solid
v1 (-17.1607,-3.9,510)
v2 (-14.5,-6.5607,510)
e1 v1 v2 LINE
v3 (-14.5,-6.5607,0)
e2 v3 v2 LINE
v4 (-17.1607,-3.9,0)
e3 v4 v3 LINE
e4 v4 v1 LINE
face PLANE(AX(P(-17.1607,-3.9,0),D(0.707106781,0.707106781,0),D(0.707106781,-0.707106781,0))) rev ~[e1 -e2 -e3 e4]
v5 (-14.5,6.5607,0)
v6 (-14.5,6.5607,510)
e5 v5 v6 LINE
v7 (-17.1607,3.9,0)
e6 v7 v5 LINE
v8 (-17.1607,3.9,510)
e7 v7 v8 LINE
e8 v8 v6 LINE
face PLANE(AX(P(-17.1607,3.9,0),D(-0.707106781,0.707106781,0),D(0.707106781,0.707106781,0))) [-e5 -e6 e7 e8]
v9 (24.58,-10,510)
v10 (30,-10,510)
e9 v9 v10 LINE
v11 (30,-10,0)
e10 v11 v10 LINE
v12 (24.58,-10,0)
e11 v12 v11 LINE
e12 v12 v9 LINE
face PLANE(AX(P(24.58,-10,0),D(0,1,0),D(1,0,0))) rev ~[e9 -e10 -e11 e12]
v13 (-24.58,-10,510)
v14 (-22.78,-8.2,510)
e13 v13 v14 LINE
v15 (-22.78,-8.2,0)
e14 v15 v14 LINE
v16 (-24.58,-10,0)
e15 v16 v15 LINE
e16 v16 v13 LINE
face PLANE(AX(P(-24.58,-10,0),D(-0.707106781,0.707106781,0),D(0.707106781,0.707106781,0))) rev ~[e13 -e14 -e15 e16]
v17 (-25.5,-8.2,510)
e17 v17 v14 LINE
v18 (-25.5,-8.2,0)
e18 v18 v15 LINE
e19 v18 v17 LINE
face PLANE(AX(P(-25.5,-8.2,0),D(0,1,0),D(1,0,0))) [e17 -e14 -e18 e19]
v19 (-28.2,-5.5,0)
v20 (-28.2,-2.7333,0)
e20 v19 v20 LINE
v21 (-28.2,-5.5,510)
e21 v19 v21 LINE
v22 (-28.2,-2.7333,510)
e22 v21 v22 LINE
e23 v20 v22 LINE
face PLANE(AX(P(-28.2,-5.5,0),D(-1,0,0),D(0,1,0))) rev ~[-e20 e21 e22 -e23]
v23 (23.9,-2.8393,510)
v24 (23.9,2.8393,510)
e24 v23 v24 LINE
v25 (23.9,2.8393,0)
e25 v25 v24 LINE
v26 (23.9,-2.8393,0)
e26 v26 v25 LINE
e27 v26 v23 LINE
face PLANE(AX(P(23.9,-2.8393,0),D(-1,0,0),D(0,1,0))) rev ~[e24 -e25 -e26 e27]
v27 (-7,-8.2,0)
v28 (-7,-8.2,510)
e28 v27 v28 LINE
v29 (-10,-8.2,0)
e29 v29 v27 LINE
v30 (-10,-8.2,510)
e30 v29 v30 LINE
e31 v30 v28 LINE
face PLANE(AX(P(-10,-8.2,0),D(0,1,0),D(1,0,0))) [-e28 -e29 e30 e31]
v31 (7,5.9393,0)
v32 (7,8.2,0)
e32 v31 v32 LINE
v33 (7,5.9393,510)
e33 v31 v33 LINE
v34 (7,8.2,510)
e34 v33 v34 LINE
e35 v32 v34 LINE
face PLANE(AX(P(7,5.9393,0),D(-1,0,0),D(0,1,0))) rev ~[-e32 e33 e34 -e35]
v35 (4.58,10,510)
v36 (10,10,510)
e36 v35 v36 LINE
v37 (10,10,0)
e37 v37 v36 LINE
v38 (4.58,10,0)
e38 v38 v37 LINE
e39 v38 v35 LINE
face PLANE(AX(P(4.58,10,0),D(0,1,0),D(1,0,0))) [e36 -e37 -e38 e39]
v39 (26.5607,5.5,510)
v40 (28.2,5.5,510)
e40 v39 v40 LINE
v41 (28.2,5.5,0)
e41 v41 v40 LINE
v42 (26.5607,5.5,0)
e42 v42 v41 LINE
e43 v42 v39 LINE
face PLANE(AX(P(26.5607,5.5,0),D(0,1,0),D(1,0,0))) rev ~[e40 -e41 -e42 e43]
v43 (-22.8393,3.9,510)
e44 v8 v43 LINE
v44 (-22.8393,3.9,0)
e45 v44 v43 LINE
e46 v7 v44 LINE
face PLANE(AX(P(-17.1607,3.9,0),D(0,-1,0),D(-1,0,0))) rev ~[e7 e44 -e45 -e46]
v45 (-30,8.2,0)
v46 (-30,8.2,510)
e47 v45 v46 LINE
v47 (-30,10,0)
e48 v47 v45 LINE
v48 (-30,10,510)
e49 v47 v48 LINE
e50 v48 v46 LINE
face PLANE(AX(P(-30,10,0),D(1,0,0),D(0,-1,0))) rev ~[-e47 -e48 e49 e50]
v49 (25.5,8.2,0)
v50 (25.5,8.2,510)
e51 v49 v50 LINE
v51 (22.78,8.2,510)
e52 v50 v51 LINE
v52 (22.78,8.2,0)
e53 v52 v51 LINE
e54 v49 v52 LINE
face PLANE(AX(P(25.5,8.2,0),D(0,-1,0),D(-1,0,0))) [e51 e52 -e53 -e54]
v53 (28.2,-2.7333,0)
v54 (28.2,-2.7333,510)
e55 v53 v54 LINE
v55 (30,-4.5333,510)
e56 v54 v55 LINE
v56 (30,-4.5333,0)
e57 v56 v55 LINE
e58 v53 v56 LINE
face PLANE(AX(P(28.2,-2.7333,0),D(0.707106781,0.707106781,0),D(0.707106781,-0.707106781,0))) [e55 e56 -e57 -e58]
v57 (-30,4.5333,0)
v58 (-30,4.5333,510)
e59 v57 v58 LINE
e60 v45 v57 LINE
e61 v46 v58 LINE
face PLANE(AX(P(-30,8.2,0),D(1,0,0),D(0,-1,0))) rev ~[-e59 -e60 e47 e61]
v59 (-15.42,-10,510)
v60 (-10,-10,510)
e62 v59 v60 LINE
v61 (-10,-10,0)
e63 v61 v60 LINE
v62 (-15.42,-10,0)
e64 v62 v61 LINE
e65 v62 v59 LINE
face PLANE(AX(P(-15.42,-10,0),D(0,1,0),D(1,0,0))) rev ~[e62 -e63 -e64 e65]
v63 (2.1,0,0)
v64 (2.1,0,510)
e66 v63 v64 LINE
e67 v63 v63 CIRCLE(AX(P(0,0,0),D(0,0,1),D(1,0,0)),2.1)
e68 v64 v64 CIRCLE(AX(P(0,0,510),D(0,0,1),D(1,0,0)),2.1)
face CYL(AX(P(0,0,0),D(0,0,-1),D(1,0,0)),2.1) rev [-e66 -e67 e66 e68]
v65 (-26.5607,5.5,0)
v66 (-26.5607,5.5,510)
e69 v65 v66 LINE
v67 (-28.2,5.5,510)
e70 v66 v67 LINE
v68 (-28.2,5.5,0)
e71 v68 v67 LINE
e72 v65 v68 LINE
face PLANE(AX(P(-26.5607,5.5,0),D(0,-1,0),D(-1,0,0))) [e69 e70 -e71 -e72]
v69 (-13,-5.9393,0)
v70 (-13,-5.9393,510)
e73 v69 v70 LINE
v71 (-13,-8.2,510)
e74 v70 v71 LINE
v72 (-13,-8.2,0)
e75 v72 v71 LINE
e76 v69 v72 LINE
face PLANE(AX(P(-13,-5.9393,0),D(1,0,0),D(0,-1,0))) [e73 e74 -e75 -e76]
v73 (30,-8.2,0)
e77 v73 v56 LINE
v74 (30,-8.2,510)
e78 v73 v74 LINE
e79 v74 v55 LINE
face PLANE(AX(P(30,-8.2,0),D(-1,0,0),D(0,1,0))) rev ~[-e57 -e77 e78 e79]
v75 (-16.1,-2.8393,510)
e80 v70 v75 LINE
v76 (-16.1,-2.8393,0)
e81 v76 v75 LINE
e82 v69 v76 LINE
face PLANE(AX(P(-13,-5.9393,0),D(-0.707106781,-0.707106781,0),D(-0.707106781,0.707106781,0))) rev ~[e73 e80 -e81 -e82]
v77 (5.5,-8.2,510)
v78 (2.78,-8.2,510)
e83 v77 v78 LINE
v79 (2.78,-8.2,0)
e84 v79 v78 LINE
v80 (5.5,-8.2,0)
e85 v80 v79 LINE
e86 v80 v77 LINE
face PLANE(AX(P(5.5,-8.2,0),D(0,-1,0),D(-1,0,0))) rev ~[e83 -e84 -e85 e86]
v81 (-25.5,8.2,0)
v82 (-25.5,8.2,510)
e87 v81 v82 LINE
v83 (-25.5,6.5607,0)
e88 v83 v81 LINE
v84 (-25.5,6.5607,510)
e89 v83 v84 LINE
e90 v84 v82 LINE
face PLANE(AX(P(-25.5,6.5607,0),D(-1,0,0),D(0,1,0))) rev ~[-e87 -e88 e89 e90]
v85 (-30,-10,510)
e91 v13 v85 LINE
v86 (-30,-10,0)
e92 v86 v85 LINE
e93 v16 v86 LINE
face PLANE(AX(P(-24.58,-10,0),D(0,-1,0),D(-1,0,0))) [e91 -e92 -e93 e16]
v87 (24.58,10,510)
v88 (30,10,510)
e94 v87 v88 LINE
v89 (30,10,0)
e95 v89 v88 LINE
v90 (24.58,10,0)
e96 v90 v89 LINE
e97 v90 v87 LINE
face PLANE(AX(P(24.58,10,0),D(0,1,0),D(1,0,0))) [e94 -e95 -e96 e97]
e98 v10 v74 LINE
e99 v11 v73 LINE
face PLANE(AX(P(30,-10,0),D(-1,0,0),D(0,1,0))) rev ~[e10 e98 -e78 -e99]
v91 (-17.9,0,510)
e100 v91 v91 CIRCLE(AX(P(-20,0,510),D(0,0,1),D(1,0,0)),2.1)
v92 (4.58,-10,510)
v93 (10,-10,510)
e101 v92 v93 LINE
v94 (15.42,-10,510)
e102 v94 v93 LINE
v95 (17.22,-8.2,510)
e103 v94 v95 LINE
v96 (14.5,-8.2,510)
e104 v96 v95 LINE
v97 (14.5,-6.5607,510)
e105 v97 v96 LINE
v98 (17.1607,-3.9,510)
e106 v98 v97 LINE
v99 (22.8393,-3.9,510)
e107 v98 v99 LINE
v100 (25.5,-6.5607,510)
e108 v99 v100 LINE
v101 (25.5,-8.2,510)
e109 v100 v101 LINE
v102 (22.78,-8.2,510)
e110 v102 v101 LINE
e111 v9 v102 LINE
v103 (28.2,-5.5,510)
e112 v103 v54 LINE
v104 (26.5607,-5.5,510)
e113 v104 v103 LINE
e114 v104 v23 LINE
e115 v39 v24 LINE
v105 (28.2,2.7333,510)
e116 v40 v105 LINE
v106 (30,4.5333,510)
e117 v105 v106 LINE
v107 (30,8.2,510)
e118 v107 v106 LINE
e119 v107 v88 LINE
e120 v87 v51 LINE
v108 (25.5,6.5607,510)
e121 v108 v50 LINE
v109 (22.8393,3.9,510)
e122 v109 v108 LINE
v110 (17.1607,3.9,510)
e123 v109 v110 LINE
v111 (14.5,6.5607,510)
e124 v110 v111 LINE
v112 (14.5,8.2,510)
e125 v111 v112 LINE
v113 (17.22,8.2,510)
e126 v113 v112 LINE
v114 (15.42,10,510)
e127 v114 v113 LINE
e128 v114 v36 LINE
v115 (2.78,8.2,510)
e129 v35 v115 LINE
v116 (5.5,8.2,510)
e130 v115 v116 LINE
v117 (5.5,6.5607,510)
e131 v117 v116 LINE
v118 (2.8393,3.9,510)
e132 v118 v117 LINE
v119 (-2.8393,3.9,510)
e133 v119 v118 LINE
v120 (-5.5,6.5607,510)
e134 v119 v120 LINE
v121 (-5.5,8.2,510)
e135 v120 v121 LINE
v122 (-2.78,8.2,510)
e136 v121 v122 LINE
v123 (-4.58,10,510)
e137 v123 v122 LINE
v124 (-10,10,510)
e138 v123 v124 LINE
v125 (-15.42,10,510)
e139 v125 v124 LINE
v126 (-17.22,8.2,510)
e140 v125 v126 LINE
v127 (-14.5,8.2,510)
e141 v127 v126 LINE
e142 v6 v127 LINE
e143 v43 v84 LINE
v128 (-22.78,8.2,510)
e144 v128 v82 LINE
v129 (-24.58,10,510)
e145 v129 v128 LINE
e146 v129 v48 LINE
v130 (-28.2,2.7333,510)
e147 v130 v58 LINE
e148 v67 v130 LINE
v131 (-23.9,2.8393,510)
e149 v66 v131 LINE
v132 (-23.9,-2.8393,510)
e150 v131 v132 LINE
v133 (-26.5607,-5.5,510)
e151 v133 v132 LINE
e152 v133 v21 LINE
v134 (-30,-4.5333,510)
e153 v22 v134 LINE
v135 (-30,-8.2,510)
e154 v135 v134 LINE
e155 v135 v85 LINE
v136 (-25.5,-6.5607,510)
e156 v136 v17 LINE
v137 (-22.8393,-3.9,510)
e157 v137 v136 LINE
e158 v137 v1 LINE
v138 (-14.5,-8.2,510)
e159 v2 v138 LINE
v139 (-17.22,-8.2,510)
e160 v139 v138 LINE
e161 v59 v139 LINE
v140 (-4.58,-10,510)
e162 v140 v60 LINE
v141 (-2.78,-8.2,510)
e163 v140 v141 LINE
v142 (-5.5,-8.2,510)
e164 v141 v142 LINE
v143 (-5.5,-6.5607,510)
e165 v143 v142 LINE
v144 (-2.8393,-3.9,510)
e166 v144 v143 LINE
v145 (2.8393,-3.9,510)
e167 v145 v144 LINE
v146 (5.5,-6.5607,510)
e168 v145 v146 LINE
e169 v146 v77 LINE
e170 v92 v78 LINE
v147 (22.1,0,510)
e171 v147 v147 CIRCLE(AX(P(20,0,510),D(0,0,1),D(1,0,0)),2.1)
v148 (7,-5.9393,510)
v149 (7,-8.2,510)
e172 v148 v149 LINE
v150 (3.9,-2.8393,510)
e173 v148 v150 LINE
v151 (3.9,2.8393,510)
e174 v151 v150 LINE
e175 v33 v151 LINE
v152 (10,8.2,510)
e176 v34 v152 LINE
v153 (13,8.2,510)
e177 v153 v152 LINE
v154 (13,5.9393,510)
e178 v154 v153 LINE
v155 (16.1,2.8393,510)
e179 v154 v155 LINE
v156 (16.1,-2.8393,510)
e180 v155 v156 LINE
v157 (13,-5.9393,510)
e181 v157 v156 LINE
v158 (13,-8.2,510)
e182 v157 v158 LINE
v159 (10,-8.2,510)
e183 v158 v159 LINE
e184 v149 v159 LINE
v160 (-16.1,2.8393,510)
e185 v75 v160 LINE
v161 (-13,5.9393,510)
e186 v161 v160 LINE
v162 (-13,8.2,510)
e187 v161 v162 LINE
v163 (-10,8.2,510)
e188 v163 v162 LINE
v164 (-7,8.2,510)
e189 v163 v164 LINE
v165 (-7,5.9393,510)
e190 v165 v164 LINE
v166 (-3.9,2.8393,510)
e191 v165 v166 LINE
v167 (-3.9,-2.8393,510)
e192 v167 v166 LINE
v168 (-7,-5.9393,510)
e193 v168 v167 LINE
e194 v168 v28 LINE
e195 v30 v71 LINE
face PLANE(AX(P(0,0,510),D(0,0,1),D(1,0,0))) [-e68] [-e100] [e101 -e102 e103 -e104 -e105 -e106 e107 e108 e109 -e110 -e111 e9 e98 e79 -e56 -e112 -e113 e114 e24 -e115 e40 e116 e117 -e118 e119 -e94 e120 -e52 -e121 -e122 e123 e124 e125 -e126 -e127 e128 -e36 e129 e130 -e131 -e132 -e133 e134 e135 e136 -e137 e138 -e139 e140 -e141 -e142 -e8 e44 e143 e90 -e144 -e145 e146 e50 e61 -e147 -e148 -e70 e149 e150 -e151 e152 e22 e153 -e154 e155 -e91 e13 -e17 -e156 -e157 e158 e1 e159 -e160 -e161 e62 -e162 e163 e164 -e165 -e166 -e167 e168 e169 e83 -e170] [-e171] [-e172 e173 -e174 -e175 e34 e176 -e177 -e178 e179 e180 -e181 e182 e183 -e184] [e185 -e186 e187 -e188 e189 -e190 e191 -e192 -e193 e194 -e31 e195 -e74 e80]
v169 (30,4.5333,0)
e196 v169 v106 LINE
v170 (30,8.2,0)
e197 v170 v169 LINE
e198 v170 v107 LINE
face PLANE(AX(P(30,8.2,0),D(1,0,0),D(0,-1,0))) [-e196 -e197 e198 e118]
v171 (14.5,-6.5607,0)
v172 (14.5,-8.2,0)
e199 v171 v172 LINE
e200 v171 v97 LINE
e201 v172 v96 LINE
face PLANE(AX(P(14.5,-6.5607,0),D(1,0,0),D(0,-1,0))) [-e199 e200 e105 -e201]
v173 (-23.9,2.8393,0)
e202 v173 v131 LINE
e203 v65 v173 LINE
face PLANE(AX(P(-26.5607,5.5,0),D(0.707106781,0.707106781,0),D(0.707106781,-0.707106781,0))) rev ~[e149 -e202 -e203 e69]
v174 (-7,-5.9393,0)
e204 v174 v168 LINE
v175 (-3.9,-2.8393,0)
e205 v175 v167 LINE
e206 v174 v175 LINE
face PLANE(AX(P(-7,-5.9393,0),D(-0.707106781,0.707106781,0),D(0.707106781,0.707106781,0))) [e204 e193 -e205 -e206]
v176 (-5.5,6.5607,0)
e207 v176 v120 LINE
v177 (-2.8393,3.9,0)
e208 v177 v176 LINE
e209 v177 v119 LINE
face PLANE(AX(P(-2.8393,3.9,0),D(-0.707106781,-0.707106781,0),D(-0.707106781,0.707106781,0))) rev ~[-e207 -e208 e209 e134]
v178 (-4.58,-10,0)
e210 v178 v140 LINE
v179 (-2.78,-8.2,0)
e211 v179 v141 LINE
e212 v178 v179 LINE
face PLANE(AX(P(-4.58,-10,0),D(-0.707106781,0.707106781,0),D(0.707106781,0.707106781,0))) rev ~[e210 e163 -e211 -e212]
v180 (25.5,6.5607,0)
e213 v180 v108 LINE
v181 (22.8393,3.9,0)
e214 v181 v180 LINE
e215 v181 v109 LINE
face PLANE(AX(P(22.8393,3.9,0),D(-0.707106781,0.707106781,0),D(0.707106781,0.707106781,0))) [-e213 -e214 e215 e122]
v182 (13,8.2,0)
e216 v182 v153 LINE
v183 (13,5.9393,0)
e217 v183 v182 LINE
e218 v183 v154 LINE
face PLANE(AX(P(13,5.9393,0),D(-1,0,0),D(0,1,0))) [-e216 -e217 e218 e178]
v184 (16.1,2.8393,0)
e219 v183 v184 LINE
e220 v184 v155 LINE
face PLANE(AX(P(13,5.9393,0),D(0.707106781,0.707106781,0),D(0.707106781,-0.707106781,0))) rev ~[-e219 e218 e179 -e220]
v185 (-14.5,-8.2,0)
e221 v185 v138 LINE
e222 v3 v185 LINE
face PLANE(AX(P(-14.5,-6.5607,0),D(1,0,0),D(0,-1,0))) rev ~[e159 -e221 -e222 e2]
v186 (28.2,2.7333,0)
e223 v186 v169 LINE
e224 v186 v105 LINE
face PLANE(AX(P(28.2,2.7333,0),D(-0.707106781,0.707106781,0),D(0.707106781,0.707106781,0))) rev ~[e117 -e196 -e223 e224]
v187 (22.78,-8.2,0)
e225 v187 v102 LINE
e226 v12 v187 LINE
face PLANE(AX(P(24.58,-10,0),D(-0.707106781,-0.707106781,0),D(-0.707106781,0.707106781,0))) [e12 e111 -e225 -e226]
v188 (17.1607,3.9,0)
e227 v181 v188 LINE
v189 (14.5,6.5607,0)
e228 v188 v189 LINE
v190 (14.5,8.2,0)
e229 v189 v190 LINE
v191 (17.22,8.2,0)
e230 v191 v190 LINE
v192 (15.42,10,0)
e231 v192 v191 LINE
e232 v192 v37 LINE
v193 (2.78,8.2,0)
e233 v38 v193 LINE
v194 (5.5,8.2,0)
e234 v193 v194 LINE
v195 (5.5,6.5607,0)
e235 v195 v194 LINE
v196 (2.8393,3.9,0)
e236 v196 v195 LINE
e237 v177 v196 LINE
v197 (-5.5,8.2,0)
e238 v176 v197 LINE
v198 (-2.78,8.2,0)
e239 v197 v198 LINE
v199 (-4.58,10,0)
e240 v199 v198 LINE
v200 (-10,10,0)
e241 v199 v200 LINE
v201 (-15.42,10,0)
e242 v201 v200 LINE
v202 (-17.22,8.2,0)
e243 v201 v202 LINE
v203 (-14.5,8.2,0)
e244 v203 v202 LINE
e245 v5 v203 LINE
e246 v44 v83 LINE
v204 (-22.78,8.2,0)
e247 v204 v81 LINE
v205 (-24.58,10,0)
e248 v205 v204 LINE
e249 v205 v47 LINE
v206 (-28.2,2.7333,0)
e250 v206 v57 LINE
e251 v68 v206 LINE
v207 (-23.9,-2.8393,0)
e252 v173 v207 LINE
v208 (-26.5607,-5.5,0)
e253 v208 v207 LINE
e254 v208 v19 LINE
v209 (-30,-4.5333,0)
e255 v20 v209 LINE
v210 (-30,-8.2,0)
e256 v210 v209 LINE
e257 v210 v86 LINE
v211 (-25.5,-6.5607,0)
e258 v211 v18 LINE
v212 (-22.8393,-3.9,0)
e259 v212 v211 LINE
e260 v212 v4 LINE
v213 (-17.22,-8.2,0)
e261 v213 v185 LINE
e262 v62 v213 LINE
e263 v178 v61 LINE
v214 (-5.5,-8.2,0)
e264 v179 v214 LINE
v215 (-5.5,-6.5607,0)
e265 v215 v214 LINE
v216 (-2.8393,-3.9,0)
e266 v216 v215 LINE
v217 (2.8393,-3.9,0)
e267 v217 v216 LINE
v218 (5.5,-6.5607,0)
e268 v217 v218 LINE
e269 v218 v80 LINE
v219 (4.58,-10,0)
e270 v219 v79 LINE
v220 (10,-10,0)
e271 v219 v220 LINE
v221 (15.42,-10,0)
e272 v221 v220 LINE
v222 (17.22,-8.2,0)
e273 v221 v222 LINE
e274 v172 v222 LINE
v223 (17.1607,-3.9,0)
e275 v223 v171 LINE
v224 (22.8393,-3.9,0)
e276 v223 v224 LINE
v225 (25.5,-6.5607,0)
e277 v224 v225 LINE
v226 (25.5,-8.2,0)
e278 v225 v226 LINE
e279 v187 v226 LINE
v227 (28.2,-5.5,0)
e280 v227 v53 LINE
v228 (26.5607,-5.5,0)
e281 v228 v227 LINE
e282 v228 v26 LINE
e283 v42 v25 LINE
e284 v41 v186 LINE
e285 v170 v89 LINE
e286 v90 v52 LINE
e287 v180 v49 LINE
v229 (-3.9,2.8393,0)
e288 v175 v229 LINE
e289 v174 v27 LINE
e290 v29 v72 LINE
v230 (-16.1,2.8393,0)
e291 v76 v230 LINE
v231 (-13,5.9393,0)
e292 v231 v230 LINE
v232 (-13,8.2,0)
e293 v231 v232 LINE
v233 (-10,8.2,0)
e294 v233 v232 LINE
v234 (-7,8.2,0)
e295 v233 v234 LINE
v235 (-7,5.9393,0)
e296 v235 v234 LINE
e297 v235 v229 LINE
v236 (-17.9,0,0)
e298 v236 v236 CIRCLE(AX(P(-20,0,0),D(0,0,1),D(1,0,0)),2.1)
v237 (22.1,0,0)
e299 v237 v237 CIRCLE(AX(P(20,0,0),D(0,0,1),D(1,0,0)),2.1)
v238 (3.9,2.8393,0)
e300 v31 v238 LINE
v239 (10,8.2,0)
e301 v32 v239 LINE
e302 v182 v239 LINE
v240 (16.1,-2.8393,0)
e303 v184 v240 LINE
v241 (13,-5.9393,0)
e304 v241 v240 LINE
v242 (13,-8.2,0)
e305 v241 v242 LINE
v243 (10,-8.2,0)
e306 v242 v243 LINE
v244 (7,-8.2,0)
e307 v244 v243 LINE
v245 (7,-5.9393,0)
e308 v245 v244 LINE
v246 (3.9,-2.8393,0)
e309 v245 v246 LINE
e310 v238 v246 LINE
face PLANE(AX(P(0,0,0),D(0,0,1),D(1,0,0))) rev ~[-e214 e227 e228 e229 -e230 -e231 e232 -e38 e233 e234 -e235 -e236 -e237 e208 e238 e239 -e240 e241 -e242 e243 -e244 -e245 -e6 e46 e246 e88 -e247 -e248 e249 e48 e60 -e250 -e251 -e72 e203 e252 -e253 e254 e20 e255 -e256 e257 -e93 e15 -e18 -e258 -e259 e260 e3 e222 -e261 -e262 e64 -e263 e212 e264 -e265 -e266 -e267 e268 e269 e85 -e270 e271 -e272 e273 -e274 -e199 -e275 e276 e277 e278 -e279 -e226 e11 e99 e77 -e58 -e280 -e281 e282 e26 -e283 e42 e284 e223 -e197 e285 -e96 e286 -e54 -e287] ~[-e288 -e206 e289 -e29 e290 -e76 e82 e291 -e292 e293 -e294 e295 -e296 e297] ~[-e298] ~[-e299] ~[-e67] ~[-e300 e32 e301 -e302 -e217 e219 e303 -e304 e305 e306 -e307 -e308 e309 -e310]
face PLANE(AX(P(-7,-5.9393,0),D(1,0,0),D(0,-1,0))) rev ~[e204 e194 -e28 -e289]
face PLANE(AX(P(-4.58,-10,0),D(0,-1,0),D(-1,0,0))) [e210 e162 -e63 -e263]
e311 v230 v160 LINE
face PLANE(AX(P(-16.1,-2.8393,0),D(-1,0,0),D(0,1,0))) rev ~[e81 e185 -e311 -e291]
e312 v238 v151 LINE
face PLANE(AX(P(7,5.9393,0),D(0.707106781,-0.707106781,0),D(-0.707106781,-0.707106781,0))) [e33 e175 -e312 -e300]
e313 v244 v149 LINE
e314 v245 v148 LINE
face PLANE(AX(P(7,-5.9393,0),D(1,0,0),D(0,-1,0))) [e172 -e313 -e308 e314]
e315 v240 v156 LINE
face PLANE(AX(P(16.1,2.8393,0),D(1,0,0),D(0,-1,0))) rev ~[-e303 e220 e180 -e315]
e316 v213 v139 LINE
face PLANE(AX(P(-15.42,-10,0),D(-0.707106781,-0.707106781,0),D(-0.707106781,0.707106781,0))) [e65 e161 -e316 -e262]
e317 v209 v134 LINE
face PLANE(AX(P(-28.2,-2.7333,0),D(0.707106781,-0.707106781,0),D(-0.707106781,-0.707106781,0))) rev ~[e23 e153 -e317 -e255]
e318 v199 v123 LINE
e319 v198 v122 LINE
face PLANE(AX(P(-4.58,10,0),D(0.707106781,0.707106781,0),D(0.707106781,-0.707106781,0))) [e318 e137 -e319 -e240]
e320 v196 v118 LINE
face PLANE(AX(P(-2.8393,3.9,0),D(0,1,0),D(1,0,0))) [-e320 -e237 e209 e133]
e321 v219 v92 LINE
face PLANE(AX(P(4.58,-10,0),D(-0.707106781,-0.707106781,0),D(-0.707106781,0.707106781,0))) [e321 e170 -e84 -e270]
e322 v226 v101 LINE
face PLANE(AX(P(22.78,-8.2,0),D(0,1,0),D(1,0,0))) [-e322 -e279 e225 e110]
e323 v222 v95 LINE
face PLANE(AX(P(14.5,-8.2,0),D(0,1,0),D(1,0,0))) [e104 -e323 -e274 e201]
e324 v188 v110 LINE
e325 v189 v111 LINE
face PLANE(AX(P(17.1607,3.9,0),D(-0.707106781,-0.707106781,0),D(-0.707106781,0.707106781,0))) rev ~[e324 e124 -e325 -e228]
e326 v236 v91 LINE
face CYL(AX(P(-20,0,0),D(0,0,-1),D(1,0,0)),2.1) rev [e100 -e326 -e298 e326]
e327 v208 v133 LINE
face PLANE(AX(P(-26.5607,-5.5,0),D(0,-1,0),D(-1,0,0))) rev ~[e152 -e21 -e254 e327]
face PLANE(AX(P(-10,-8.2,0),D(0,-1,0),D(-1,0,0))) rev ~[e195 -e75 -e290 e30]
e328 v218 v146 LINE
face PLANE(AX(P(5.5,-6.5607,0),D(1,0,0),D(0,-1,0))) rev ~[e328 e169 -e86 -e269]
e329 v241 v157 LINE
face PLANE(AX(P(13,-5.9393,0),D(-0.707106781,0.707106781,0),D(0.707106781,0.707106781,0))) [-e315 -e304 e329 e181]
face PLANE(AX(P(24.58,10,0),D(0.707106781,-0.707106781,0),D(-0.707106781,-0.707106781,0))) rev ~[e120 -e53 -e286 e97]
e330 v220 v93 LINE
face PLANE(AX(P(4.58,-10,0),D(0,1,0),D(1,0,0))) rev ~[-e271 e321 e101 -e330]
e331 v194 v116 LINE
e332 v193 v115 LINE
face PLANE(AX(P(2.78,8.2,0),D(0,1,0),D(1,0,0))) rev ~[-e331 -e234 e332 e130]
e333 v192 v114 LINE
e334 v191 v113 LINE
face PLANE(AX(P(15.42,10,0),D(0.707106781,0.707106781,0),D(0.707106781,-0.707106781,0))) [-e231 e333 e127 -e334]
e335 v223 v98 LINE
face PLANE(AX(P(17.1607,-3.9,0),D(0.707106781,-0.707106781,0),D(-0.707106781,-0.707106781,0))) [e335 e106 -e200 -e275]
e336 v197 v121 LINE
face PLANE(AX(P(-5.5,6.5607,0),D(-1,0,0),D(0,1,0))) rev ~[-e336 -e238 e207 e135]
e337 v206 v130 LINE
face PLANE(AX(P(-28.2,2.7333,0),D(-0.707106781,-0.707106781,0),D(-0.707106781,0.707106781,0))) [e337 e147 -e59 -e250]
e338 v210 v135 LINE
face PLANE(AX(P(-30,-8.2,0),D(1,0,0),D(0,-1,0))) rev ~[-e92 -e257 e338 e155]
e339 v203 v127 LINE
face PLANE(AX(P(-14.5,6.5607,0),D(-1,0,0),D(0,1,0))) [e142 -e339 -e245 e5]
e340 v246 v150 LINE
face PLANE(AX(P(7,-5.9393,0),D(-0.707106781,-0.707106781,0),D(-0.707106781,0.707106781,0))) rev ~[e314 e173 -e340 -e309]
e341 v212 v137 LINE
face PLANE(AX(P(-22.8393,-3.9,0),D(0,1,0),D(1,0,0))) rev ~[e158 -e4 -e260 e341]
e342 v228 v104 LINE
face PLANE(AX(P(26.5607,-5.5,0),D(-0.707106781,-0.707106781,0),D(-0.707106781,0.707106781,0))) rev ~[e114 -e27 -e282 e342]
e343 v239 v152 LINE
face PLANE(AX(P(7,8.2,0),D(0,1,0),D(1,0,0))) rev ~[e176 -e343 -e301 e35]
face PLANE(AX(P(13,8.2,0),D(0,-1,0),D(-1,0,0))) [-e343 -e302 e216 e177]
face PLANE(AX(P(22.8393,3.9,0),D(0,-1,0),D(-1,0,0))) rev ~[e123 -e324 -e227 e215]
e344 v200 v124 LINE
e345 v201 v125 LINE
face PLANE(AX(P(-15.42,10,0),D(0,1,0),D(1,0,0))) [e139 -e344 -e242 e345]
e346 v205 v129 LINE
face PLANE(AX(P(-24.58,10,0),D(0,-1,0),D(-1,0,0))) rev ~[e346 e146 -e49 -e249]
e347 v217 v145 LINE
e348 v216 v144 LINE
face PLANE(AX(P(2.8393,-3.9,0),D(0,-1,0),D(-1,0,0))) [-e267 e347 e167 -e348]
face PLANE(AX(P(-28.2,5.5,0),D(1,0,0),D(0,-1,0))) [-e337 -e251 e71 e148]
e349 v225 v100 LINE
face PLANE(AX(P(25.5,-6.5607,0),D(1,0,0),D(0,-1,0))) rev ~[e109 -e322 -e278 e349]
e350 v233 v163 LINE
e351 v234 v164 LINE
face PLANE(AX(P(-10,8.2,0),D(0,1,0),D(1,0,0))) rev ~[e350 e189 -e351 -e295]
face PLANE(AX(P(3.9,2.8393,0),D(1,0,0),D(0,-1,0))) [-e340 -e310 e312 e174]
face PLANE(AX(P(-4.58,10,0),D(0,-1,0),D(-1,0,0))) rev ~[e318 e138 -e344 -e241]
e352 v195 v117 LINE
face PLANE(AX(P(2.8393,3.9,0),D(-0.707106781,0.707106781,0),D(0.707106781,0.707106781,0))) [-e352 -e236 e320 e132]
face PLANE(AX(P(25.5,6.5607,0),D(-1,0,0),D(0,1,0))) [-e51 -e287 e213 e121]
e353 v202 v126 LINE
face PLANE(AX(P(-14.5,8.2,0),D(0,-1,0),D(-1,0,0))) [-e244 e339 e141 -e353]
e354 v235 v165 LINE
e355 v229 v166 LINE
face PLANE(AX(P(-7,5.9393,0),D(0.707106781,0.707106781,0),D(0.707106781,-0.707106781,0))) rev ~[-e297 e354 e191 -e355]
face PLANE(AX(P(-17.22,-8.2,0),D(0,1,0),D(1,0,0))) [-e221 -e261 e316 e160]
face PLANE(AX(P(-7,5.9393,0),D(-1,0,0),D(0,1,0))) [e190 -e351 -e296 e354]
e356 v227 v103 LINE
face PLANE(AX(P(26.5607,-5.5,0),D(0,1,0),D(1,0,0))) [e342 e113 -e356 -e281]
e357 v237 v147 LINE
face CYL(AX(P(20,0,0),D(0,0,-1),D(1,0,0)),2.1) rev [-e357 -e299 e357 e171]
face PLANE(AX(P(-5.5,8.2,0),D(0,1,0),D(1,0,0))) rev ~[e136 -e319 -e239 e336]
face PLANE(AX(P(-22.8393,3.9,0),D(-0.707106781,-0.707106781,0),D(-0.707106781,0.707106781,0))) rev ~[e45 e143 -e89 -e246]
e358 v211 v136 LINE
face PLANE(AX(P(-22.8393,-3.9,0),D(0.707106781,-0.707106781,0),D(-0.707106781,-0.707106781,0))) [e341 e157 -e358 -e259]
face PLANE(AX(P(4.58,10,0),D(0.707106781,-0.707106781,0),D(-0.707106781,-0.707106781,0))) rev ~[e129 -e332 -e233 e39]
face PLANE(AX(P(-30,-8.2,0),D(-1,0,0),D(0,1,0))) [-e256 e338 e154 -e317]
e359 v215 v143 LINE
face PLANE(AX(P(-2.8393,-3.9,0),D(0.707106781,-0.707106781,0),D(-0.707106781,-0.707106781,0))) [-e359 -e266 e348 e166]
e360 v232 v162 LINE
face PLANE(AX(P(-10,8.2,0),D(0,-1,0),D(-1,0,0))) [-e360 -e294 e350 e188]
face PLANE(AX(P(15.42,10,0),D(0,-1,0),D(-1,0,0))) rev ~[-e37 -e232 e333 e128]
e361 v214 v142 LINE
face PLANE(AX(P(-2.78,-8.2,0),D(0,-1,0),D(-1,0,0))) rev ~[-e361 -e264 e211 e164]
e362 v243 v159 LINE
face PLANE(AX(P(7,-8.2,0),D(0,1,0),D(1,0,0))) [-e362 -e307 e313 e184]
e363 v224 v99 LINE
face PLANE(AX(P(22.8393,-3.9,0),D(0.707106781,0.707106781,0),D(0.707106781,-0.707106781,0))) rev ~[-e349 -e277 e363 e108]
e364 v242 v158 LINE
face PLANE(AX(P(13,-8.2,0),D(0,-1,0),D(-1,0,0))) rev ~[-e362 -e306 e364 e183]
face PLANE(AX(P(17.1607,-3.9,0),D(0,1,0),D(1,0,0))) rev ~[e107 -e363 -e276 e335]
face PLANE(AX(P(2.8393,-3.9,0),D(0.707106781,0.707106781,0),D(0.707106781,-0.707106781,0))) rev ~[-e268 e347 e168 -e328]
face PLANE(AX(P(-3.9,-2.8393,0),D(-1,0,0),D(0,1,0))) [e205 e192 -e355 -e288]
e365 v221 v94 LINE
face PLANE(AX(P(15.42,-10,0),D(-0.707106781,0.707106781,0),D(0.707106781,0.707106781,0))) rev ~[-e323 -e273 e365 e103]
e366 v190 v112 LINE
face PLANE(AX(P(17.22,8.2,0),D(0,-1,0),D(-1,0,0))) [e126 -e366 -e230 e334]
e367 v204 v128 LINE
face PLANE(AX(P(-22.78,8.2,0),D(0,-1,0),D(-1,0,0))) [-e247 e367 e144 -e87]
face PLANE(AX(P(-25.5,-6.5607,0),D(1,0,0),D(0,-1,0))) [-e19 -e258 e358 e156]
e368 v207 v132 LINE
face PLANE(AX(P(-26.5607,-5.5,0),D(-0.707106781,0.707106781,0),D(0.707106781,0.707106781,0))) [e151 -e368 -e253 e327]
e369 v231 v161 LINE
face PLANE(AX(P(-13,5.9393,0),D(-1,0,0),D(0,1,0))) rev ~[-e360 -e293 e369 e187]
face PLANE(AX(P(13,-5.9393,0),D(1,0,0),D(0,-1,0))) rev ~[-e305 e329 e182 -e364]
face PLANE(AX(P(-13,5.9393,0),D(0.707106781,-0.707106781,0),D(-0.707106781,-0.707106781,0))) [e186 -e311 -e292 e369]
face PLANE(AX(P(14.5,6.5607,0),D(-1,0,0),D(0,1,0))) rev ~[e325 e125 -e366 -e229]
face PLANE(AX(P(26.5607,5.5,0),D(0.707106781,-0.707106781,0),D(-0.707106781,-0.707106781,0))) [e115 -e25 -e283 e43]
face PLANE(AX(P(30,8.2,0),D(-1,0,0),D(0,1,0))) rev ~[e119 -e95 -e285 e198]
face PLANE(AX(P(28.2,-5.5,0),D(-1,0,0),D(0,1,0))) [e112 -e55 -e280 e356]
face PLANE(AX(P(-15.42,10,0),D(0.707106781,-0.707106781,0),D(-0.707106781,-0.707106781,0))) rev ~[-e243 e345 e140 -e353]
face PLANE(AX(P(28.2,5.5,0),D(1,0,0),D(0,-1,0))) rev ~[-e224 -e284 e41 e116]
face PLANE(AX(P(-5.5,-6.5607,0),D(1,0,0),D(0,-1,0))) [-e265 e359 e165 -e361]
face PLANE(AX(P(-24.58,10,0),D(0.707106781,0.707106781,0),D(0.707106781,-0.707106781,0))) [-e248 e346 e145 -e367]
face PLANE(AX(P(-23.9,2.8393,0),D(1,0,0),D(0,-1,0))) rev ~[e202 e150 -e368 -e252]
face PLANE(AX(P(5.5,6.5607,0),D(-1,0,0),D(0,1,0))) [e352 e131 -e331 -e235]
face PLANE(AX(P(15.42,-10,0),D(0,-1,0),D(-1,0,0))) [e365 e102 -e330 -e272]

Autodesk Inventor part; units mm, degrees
ref_plane "YZ Plane" through (0, 0, 0) normal (1, 0, 0) x (0, 1, 0)
ref_plane "XZ Plane" through (0, 0, 0) normal (0, 1, 0) x (-1, 0, 0)
ref_plane "XY Plane" through (0, 0, 0) normal (0, 0, 1) x (1, 0, 0)
sketch "Boceto1" plane through (0, 0, 0) normal (0, 0, 1) x (1, 0, 0)
  circle A0 centre (0, 0) radius 2.1
  line L0 (-2.8393, 3.9) -> (2.8393, 3.9)
  line L1 (3.9, 2.8393) -> (3.9, -2.8393)
  line L2 (2.8393, -3.9) -> (-2.8393, -3.9)
  line L3 (-3.9, -2.8393) -> (-3.9, 2.8393)
  line L4 (-3.9, 3.9) -> (3.9, -3.9) construction
  line L5 (3.9, 3.9) -> (-3.9, -3.9) construction
  line L6 (3.9, 3.9) -> (5.9093, 5.9093) construction
  line L7 (7, 5.9393) -> (3.9, 2.8393)
  line L8 (2.8393, 3.9) -> (5.5, 6.5607)
  line L9 (30, -10) -> (-30, -10) construction
  line L10 (-30, -10) -> (-30, 10) construction
  line L11 (-30, 10) -> (30, 10) construction
  line L12 (30, 10) -> (30, -10) construction
  line L13 (30, -10) -> (-30, 10) construction
  line L14 (-30, -10) -> (30, 10) construction
  line L15 (10, -10) -> (-10, -10) construction
  line L16 (-10, 10) -> (10, 10) construction
  line L17 (10, -10) -> (-10, 10) construction
  line L18 (-10, -10) -> (10, 10) construction
  line L19 (5.5, 6.5607) -> (5.5, 8.2)
  line L20 (7, 5.9393) -> (7, 8.2)
  line L21 (0, 10) -> (0, -10) construction
  line L22 (-3.9, 3.9) -> (-5.9093, 5.9093) construction
  line L23 (-7, 5.9393) -> (-3.9, 2.8393)
  line L24 (-2.8393, 3.9) -> (-5.5, 6.5607)
  line L25 (10, -10) -> (-10, 10) construction
  line L26 (-5.5, 6.5607) -> (-5.5, 8.2)
  line L27 (4.58, 10) -> (2.78, 8.2)
  line L28 (-4.58, 10) -> (-2.78, 8.2)
  line L29 (-7, 5.9393) -> (-7, 8.2)
  line L30 (-30, 0) -> (30, 0) construction
  line L31 (3.9, -3.9) -> (5.9093, -5.9093) construction
  line L32 (7, -5.9393) -> (3.9, -2.8393)
  line L33 (2.8393, -3.9) -> (5.5, -6.5607)
  line L34 (10, 10) -> (-10, -10) construction
  line L35 (-10, 10) -> (10, -10) construction
  line L36 (5.5, -6.5607) -> (5.5, -8.2)
  line L37 (7, -5.9393) -> (7, -8.2)
  line L38 (-5.5, -6.5607) -> (-5.5, -8.2)
  line L39 (-3.9, -3.9) -> (-5.9093, -5.9093) construction
  line L40 (-7, -5.9393) -> (-3.9, -2.8393)
  line L41 (-2.8393, -3.9) -> (-5.5, -6.5607)
  line L42 (10, 10) -> (-10, -10) construction
  line L43 (4.58, -10) -> (2.78, -8.2)
  line L44 (-4.58, -10) -> (-2.78, -8.2)
  line L45 (-7, -5.9393) -> (-7, -8.2)
  line L46 (-2.78, -8.2) -> (-5.5, -8.2)
  line L47 (5.5, -8.2) -> (2.78, -8.2)
  line L48 (7, -8.2) -> (10, -8.2)
  line L49 (-10, 8.2) -> (-7, 8.2)
  line L50 (-5.5, 8.2) -> (-2.78, 8.2)
  line L51 (2.78, 8.2) -> (5.5, 8.2)
  line L52 (7, 8.2) -> (10, 8.2)
  line L53 (-10, 8.2) -> (10, 8.2) construction
  line L54 (20, -10) -> (20, 10) construction
  line L55 (-10, -10) -> (-10, 10) construction
  line L56 (10, 10) -> (10, -10) construction
  line L57 (-4.58, 10) -> (-10, 10)
  line L58 (4.58, 10) -> (10, 10)
  line L59 (4.58, -10) -> (10, -10)
  line L60 (-4.58, -10) -> (-10, -10)
  circle A1 centre (20, 0) radius 2.1
  line L61 (22.8393, 3.9) -> (17.1607, 3.9)
  line L62 (16.1, 2.8393) -> (16.1, -2.8393)
  line L63 (17.1607, -3.9) -> (22.8393, -3.9)
  line L64 (23.9, -2.8393) -> (23.9, 2.8393)
  line L65 (23.9, 3.9) -> (16.1, -3.9) construction
  line L66 (16.1, 3.9) -> (23.9, -3.9) construction
  line L67 (16.1, 3.9) -> (14.0907, 5.9093) construction
  line L68 (13, 5.9393) -> (16.1, 2.8393)
  line L69 (17.1607, 3.9) -> (14.5, 6.5607)
  line L70 (-10, -10) -> (50, -10) construction
  line L71 (50, 10) -> (-10, 10) construction
  line L72 (-10, -10) -> (50, 10) construction
  line L73 (50, -10) -> (-10, 10) construction
  line L74 (10, -10) -> (30, -10) construction
  line L75 (30, 10) -> (10, 10) construction
  line L76 (10, -10) -> (30, 10) construction
  line L77 (30, -10) -> (10, 10) construction
  line L78 (14.5, 6.5607) -> (14.5, 8.2)
  line L79 (13, 5.9393) -> (13, 8.2)
  line L80 (20, 10) -> (20, -10) construction
  line L81 (25.5, 6.5607) -> (25.5, 8.2)
  line L82 (23.9, 3.9) -> (25.9093, 5.9093) construction
  line L83 (26.5607, 5.5) -> (23.9, 2.8393)
  line L84 (22.8393, 3.9) -> (25.5, 6.5607)
  line L85 (10, -10) -> (30, 10) construction
  line L86 (15.42, 10) -> (17.22, 8.2)
  line L87 (24.58, 10) -> (22.78, 8.2)
  line L88 (50, 0) -> (-10, 0) construction
  line L89 (16.1, -3.9) -> (14.0907, -5.9093) construction
  line L90 (30, 10) -> (10, -10) construction
  line L91 (13, -5.9393) -> (16.1, -2.8393)
  line L92 (17.1607, -3.9) -> (14.5, -6.5607)
  line L93 (14.5, -6.5607) -> (14.5, -8.2)
  line L94 (13, -5.9393) -> (13, -8.2)
  line L95 (15.42, -10) -> (17.22, -8.2)
  line L96 (27, -5.9393) -> (27, -8.2) construction
  line L97 (10, 10) -> (30, -10) construction
  line L98 (10, 10) -> (30, -10) construction
  line L99 (25.5, -6.5607) -> (25.5, -8.2)
  line L100 (26.5607, -5.5) -> (23.9, -2.8393)
  line L101 (23.9, -3.9) -> (25.9093, -5.9093) construction
  line L102 (22.8393, -3.9) -> (25.5, -6.5607)
  line L103 (24.58, -10) -> (22.78, -8.2)
  line L104 (22.78, -8.2) -> (25.5, -8.2)
  line L105 (27.1393, -8.2) -> (30, -8.2) construction
  line L106 (14.5, -8.2) -> (17.22, -8.2)
  line L107 (13, -8.2) -> (10, -8.2)
  line L108 (25.5, 8.2) -> (22.78, 8.2)
  line L109 (17.22, 8.2) -> (14.5, 8.2)
  line L110 (13, 8.2) -> (10, 8.2)
  line L111 (28.2, 8.2) -> (10, 8.2) construction
  line L112 (30, -10) -> (30, 10) construction
  line L113 (24.58, 10) -> (30, 10)
  line L114 (15.42, 10) -> (10, 10)
  line L115 (15.42, -10) -> (10, -10)
  line L116 (24.58, -10) -> (30, -10)
  circle A2 centre (-20, 0) radius 2.1
  line L117 (-17.1607, 3.9) -> (-22.8393, 3.9)
  line L118 (-23.9, 2.8393) -> (-23.9, -2.8393)
  line L119 (-22.8393, -3.9) -> (-17.1607, -3.9)
  line L120 (-16.1, -2.8393) -> (-16.1, 2.8393)
  line L121 (-16.1, 3.9) -> (-23.9, -3.9) construction
  line L122 (-23.9, 3.9) -> (-16.1, -3.9) construction
  line L123 (-23.9, 3.9) -> (-25.9093, 5.9093) construction
  line L124 (-26.5607, 5.5) -> (-23.9, 2.8393)
  line L125 (-22.8393, 3.9) -> (-25.5, 6.5607)
  line L126 (-50, -10) -> (10, -10) construction
  line L127 (10, 10) -> (-50, 10) construction
  line L128 (-50, -10) -> (10, 10) construction
  line L129 (10, -10) -> (-50, 10) construction
  line L130 (-30, -10) -> (-10, -10) construction
  line L131 (-10, 10) -> (-30, 10) construction
  line L132 (-30, -10) -> (-10, 10) construction
  line L133 (-10, -10) -> (-30, 10) construction
  line L134 (-25.5, 6.5607) -> (-25.5, 8.2)
  line L135 (-20, 10) -> (-20, -10) construction
  line L136 (-14.5, 6.5607) -> (-14.5, 8.2)
  line L137 (-16.1, 3.9) -> (-14.0907, 5.9093) construction
  line L138 (-13, 5.9393) -> (-16.1, 2.8393)
  line L139 (-17.1607, 3.9) -> (-14.5, 6.5607)
  line L140 (-30, -10) -> (-10, 10) construction
  line L141 (-24.58, 10) -> (-22.78, 8.2)
  line L142 (-15.42, 10) -> (-17.22, 8.2)
  line L143 (-13, 5.9393) -> (-13, 8.2)
  line L144 (10, 0) -> (-50, 0) construction
  line L145 (-23.9, -3.9) -> (-25.9093, -5.9093) construction
  line L146 (-10, 10) -> (-30, -10) construction
  line L147 (-26.5607, -5.5) -> (-23.9, -2.8393)
  line L148 (-22.8393, -3.9) -> (-25.5, -6.5607)
  line L149 (-25.5, -6.5607) -> (-25.5, -8.2)
  line L150 (-24.58, -10) -> (-22.78, -8.2)
  line L151 (-13, -5.9393) -> (-13, -8.2)
  line L152 (-30, 10) -> (-10, -10) construction
  line L153 (-30, 10) -> (-10, -10) construction
  line L154 (-14.5, -6.5607) -> (-14.5, -8.2)
  line L155 (-13, -5.9393) -> (-16.1, -2.8393)
  line L156 (-16.1, -3.9) -> (-14.0907, -5.9093) construction
  line L157 (-17.1607, -3.9) -> (-14.5, -6.5607)
  line L158 (-15.42, -10) -> (-17.22, -8.2)
  line L159 (-17.22, -8.2) -> (-14.5, -8.2)
  line L160 (-25.5, -8.2) -> (-22.78, -8.2)
  line L161 (-10, 8.2) -> (-13, 8.2)
  line L162 (-14.5, 8.2) -> (-17.22, 8.2)
  line L163 (-22.78, 8.2) -> (-25.5, 8.2)
  line L164 (-10, 8.2) -> (-25.5, 8.2) construction
  line L165 (-30, 10) -> (-30, -10) construction
  line L166 (-15.42, 10) -> (-10, 10)
  line L167 (-24.58, 10) -> (-30, 10)
  line L168 (-24.58, -10) -> (-30, -10)
  line L169 (-15.42, -10) -> (-10, -10)
  line L170 (-30, -10) -> (-50, -10) construction
  line L171 (-10, -10) -> (-70, -10) construction
  line L172 (-70, 10) -> (-10, 10) construction
  line L173 (-10, -10) -> (-70, 10) construction
  line L174 (-70, -10) -> (-10, 10) construction
  line L175 (-70, 0) -> (-10, 0) construction
  line L176 (-30, 10) -> (-50, -10) construction
  line L177 (-30, 10) -> (-50, -10) construction
  line L178 (-50, 10) -> (-30, -10) construction
  line L179 (-30, -10) -> (-50, 10) construction
  line L180 (-30, -10) -> (-50, 10) construction
  line L181 (-50, -10) -> (-30, 10) construction
  line L182 (-50, 8.2) -> (-30, 8.2) construction
  line L183 (-50, 10) -> (-30, 10) construction
  line L184 (-30, 10) -> (-30, 8.2)
  line L185 (-30, -8.2) -> (-30, -10)
  line L186 (30, -10) -> (30, -8.2)
  line L187 (30, 8.2) -> (30, 10)
  line L188 (28.2, -10) -> (28.2, -5.5) construction
  line L189 (28.2, -5.5) -> (28.2, -2.7333)
  line L190 (25.5, -6.5607) -> (26.5607, -5.5) construction
  line L191 (26.5607, -5.5) -> (28.2, -5.5)
  line L192 (28.2, -2.7333) -> (30, -4.5333)
  line L193 (30, -8.2) -> (30, -4.5333)
  line L194 (26.5607, 5.5) -> (23.9, 2.8393)
  line L195 (30, 10) -> (30, 8.2)
  line L196 (28.2, 5.5) -> (28.2, 2.7333)
  line L197 (26.5607, 5.5) -> (28.2, 5.5)
  line L198 (28.2, 2.7333) -> (30, 4.5333)
  line L199 (30, 8.2) -> (30, 4.5333)
  line L200 (-50, -10) -> (10, 10) construction
  line L201 (-28.2, -5.5) -> (-28.2, -2.7333)
  line L202 (-26.5607, -5.5) -> (-28.2, -5.5)
  line L203 (-28.2, -2.7333) -> (-30, -4.5333)
  line L204 (-30, -8.2) -> (-30, -4.5333)
  line L205 (-26.5607, 5.5) -> (-28.2, 5.5)
  line L206 (-28.2, 5.5) -> (-28.2, 2.7333)
  line L207 (-28.2, 2.7333) -> (-30, 4.5333)
  line L208 (-30, 8.2) -> (-30, 4.5333)
  line L209 (-10, -8.2) -> (-13, -8.2)
  line L210 (-10, -8.2) -> (-7, -8.2)
  dimension "d0" = 4.2
  dimension "d2" = 3.9
  dimension "d3" = 3.9
  dimension "d5" = 45
  dimension "d6" = 0.75
  dimension "d7" = 0.75
  dimension "d8" = 60
  dimension "d9" = 20
  dimension "d13" = 1.5
  dimension "d37" = 9.16
  dimension "d41" = 11
  dimension "d42" = 90
  dimension "d45" = 4.58
  dimension "d46" = 45
  dimension "d47" = 45
  dimension "d48" = 2.72
  dimension "d49" = 1.8
  dimension "d50" = 2.72
  dimension "d51" = 1.0607
  dimension "d53" = 10
  dimension "d54" = 20
  dimension "d55" = 3
  dimension "d56" = 1.6393
  dimension "d58" = 2.72
  dimension "d61" = 2.6607
  dimension "d62" = 3.4393
  dimension "d66" = 1.8
  dimension "d68" = 5.42
  dimension "d71" = 45
  dimension "d72" = 2.6607
extrude "Extrusión1" add sketch "Boceto1" along normal blind 510
properties part number "V-SLOT_2060_26cm" material "Aluminio 6061"
